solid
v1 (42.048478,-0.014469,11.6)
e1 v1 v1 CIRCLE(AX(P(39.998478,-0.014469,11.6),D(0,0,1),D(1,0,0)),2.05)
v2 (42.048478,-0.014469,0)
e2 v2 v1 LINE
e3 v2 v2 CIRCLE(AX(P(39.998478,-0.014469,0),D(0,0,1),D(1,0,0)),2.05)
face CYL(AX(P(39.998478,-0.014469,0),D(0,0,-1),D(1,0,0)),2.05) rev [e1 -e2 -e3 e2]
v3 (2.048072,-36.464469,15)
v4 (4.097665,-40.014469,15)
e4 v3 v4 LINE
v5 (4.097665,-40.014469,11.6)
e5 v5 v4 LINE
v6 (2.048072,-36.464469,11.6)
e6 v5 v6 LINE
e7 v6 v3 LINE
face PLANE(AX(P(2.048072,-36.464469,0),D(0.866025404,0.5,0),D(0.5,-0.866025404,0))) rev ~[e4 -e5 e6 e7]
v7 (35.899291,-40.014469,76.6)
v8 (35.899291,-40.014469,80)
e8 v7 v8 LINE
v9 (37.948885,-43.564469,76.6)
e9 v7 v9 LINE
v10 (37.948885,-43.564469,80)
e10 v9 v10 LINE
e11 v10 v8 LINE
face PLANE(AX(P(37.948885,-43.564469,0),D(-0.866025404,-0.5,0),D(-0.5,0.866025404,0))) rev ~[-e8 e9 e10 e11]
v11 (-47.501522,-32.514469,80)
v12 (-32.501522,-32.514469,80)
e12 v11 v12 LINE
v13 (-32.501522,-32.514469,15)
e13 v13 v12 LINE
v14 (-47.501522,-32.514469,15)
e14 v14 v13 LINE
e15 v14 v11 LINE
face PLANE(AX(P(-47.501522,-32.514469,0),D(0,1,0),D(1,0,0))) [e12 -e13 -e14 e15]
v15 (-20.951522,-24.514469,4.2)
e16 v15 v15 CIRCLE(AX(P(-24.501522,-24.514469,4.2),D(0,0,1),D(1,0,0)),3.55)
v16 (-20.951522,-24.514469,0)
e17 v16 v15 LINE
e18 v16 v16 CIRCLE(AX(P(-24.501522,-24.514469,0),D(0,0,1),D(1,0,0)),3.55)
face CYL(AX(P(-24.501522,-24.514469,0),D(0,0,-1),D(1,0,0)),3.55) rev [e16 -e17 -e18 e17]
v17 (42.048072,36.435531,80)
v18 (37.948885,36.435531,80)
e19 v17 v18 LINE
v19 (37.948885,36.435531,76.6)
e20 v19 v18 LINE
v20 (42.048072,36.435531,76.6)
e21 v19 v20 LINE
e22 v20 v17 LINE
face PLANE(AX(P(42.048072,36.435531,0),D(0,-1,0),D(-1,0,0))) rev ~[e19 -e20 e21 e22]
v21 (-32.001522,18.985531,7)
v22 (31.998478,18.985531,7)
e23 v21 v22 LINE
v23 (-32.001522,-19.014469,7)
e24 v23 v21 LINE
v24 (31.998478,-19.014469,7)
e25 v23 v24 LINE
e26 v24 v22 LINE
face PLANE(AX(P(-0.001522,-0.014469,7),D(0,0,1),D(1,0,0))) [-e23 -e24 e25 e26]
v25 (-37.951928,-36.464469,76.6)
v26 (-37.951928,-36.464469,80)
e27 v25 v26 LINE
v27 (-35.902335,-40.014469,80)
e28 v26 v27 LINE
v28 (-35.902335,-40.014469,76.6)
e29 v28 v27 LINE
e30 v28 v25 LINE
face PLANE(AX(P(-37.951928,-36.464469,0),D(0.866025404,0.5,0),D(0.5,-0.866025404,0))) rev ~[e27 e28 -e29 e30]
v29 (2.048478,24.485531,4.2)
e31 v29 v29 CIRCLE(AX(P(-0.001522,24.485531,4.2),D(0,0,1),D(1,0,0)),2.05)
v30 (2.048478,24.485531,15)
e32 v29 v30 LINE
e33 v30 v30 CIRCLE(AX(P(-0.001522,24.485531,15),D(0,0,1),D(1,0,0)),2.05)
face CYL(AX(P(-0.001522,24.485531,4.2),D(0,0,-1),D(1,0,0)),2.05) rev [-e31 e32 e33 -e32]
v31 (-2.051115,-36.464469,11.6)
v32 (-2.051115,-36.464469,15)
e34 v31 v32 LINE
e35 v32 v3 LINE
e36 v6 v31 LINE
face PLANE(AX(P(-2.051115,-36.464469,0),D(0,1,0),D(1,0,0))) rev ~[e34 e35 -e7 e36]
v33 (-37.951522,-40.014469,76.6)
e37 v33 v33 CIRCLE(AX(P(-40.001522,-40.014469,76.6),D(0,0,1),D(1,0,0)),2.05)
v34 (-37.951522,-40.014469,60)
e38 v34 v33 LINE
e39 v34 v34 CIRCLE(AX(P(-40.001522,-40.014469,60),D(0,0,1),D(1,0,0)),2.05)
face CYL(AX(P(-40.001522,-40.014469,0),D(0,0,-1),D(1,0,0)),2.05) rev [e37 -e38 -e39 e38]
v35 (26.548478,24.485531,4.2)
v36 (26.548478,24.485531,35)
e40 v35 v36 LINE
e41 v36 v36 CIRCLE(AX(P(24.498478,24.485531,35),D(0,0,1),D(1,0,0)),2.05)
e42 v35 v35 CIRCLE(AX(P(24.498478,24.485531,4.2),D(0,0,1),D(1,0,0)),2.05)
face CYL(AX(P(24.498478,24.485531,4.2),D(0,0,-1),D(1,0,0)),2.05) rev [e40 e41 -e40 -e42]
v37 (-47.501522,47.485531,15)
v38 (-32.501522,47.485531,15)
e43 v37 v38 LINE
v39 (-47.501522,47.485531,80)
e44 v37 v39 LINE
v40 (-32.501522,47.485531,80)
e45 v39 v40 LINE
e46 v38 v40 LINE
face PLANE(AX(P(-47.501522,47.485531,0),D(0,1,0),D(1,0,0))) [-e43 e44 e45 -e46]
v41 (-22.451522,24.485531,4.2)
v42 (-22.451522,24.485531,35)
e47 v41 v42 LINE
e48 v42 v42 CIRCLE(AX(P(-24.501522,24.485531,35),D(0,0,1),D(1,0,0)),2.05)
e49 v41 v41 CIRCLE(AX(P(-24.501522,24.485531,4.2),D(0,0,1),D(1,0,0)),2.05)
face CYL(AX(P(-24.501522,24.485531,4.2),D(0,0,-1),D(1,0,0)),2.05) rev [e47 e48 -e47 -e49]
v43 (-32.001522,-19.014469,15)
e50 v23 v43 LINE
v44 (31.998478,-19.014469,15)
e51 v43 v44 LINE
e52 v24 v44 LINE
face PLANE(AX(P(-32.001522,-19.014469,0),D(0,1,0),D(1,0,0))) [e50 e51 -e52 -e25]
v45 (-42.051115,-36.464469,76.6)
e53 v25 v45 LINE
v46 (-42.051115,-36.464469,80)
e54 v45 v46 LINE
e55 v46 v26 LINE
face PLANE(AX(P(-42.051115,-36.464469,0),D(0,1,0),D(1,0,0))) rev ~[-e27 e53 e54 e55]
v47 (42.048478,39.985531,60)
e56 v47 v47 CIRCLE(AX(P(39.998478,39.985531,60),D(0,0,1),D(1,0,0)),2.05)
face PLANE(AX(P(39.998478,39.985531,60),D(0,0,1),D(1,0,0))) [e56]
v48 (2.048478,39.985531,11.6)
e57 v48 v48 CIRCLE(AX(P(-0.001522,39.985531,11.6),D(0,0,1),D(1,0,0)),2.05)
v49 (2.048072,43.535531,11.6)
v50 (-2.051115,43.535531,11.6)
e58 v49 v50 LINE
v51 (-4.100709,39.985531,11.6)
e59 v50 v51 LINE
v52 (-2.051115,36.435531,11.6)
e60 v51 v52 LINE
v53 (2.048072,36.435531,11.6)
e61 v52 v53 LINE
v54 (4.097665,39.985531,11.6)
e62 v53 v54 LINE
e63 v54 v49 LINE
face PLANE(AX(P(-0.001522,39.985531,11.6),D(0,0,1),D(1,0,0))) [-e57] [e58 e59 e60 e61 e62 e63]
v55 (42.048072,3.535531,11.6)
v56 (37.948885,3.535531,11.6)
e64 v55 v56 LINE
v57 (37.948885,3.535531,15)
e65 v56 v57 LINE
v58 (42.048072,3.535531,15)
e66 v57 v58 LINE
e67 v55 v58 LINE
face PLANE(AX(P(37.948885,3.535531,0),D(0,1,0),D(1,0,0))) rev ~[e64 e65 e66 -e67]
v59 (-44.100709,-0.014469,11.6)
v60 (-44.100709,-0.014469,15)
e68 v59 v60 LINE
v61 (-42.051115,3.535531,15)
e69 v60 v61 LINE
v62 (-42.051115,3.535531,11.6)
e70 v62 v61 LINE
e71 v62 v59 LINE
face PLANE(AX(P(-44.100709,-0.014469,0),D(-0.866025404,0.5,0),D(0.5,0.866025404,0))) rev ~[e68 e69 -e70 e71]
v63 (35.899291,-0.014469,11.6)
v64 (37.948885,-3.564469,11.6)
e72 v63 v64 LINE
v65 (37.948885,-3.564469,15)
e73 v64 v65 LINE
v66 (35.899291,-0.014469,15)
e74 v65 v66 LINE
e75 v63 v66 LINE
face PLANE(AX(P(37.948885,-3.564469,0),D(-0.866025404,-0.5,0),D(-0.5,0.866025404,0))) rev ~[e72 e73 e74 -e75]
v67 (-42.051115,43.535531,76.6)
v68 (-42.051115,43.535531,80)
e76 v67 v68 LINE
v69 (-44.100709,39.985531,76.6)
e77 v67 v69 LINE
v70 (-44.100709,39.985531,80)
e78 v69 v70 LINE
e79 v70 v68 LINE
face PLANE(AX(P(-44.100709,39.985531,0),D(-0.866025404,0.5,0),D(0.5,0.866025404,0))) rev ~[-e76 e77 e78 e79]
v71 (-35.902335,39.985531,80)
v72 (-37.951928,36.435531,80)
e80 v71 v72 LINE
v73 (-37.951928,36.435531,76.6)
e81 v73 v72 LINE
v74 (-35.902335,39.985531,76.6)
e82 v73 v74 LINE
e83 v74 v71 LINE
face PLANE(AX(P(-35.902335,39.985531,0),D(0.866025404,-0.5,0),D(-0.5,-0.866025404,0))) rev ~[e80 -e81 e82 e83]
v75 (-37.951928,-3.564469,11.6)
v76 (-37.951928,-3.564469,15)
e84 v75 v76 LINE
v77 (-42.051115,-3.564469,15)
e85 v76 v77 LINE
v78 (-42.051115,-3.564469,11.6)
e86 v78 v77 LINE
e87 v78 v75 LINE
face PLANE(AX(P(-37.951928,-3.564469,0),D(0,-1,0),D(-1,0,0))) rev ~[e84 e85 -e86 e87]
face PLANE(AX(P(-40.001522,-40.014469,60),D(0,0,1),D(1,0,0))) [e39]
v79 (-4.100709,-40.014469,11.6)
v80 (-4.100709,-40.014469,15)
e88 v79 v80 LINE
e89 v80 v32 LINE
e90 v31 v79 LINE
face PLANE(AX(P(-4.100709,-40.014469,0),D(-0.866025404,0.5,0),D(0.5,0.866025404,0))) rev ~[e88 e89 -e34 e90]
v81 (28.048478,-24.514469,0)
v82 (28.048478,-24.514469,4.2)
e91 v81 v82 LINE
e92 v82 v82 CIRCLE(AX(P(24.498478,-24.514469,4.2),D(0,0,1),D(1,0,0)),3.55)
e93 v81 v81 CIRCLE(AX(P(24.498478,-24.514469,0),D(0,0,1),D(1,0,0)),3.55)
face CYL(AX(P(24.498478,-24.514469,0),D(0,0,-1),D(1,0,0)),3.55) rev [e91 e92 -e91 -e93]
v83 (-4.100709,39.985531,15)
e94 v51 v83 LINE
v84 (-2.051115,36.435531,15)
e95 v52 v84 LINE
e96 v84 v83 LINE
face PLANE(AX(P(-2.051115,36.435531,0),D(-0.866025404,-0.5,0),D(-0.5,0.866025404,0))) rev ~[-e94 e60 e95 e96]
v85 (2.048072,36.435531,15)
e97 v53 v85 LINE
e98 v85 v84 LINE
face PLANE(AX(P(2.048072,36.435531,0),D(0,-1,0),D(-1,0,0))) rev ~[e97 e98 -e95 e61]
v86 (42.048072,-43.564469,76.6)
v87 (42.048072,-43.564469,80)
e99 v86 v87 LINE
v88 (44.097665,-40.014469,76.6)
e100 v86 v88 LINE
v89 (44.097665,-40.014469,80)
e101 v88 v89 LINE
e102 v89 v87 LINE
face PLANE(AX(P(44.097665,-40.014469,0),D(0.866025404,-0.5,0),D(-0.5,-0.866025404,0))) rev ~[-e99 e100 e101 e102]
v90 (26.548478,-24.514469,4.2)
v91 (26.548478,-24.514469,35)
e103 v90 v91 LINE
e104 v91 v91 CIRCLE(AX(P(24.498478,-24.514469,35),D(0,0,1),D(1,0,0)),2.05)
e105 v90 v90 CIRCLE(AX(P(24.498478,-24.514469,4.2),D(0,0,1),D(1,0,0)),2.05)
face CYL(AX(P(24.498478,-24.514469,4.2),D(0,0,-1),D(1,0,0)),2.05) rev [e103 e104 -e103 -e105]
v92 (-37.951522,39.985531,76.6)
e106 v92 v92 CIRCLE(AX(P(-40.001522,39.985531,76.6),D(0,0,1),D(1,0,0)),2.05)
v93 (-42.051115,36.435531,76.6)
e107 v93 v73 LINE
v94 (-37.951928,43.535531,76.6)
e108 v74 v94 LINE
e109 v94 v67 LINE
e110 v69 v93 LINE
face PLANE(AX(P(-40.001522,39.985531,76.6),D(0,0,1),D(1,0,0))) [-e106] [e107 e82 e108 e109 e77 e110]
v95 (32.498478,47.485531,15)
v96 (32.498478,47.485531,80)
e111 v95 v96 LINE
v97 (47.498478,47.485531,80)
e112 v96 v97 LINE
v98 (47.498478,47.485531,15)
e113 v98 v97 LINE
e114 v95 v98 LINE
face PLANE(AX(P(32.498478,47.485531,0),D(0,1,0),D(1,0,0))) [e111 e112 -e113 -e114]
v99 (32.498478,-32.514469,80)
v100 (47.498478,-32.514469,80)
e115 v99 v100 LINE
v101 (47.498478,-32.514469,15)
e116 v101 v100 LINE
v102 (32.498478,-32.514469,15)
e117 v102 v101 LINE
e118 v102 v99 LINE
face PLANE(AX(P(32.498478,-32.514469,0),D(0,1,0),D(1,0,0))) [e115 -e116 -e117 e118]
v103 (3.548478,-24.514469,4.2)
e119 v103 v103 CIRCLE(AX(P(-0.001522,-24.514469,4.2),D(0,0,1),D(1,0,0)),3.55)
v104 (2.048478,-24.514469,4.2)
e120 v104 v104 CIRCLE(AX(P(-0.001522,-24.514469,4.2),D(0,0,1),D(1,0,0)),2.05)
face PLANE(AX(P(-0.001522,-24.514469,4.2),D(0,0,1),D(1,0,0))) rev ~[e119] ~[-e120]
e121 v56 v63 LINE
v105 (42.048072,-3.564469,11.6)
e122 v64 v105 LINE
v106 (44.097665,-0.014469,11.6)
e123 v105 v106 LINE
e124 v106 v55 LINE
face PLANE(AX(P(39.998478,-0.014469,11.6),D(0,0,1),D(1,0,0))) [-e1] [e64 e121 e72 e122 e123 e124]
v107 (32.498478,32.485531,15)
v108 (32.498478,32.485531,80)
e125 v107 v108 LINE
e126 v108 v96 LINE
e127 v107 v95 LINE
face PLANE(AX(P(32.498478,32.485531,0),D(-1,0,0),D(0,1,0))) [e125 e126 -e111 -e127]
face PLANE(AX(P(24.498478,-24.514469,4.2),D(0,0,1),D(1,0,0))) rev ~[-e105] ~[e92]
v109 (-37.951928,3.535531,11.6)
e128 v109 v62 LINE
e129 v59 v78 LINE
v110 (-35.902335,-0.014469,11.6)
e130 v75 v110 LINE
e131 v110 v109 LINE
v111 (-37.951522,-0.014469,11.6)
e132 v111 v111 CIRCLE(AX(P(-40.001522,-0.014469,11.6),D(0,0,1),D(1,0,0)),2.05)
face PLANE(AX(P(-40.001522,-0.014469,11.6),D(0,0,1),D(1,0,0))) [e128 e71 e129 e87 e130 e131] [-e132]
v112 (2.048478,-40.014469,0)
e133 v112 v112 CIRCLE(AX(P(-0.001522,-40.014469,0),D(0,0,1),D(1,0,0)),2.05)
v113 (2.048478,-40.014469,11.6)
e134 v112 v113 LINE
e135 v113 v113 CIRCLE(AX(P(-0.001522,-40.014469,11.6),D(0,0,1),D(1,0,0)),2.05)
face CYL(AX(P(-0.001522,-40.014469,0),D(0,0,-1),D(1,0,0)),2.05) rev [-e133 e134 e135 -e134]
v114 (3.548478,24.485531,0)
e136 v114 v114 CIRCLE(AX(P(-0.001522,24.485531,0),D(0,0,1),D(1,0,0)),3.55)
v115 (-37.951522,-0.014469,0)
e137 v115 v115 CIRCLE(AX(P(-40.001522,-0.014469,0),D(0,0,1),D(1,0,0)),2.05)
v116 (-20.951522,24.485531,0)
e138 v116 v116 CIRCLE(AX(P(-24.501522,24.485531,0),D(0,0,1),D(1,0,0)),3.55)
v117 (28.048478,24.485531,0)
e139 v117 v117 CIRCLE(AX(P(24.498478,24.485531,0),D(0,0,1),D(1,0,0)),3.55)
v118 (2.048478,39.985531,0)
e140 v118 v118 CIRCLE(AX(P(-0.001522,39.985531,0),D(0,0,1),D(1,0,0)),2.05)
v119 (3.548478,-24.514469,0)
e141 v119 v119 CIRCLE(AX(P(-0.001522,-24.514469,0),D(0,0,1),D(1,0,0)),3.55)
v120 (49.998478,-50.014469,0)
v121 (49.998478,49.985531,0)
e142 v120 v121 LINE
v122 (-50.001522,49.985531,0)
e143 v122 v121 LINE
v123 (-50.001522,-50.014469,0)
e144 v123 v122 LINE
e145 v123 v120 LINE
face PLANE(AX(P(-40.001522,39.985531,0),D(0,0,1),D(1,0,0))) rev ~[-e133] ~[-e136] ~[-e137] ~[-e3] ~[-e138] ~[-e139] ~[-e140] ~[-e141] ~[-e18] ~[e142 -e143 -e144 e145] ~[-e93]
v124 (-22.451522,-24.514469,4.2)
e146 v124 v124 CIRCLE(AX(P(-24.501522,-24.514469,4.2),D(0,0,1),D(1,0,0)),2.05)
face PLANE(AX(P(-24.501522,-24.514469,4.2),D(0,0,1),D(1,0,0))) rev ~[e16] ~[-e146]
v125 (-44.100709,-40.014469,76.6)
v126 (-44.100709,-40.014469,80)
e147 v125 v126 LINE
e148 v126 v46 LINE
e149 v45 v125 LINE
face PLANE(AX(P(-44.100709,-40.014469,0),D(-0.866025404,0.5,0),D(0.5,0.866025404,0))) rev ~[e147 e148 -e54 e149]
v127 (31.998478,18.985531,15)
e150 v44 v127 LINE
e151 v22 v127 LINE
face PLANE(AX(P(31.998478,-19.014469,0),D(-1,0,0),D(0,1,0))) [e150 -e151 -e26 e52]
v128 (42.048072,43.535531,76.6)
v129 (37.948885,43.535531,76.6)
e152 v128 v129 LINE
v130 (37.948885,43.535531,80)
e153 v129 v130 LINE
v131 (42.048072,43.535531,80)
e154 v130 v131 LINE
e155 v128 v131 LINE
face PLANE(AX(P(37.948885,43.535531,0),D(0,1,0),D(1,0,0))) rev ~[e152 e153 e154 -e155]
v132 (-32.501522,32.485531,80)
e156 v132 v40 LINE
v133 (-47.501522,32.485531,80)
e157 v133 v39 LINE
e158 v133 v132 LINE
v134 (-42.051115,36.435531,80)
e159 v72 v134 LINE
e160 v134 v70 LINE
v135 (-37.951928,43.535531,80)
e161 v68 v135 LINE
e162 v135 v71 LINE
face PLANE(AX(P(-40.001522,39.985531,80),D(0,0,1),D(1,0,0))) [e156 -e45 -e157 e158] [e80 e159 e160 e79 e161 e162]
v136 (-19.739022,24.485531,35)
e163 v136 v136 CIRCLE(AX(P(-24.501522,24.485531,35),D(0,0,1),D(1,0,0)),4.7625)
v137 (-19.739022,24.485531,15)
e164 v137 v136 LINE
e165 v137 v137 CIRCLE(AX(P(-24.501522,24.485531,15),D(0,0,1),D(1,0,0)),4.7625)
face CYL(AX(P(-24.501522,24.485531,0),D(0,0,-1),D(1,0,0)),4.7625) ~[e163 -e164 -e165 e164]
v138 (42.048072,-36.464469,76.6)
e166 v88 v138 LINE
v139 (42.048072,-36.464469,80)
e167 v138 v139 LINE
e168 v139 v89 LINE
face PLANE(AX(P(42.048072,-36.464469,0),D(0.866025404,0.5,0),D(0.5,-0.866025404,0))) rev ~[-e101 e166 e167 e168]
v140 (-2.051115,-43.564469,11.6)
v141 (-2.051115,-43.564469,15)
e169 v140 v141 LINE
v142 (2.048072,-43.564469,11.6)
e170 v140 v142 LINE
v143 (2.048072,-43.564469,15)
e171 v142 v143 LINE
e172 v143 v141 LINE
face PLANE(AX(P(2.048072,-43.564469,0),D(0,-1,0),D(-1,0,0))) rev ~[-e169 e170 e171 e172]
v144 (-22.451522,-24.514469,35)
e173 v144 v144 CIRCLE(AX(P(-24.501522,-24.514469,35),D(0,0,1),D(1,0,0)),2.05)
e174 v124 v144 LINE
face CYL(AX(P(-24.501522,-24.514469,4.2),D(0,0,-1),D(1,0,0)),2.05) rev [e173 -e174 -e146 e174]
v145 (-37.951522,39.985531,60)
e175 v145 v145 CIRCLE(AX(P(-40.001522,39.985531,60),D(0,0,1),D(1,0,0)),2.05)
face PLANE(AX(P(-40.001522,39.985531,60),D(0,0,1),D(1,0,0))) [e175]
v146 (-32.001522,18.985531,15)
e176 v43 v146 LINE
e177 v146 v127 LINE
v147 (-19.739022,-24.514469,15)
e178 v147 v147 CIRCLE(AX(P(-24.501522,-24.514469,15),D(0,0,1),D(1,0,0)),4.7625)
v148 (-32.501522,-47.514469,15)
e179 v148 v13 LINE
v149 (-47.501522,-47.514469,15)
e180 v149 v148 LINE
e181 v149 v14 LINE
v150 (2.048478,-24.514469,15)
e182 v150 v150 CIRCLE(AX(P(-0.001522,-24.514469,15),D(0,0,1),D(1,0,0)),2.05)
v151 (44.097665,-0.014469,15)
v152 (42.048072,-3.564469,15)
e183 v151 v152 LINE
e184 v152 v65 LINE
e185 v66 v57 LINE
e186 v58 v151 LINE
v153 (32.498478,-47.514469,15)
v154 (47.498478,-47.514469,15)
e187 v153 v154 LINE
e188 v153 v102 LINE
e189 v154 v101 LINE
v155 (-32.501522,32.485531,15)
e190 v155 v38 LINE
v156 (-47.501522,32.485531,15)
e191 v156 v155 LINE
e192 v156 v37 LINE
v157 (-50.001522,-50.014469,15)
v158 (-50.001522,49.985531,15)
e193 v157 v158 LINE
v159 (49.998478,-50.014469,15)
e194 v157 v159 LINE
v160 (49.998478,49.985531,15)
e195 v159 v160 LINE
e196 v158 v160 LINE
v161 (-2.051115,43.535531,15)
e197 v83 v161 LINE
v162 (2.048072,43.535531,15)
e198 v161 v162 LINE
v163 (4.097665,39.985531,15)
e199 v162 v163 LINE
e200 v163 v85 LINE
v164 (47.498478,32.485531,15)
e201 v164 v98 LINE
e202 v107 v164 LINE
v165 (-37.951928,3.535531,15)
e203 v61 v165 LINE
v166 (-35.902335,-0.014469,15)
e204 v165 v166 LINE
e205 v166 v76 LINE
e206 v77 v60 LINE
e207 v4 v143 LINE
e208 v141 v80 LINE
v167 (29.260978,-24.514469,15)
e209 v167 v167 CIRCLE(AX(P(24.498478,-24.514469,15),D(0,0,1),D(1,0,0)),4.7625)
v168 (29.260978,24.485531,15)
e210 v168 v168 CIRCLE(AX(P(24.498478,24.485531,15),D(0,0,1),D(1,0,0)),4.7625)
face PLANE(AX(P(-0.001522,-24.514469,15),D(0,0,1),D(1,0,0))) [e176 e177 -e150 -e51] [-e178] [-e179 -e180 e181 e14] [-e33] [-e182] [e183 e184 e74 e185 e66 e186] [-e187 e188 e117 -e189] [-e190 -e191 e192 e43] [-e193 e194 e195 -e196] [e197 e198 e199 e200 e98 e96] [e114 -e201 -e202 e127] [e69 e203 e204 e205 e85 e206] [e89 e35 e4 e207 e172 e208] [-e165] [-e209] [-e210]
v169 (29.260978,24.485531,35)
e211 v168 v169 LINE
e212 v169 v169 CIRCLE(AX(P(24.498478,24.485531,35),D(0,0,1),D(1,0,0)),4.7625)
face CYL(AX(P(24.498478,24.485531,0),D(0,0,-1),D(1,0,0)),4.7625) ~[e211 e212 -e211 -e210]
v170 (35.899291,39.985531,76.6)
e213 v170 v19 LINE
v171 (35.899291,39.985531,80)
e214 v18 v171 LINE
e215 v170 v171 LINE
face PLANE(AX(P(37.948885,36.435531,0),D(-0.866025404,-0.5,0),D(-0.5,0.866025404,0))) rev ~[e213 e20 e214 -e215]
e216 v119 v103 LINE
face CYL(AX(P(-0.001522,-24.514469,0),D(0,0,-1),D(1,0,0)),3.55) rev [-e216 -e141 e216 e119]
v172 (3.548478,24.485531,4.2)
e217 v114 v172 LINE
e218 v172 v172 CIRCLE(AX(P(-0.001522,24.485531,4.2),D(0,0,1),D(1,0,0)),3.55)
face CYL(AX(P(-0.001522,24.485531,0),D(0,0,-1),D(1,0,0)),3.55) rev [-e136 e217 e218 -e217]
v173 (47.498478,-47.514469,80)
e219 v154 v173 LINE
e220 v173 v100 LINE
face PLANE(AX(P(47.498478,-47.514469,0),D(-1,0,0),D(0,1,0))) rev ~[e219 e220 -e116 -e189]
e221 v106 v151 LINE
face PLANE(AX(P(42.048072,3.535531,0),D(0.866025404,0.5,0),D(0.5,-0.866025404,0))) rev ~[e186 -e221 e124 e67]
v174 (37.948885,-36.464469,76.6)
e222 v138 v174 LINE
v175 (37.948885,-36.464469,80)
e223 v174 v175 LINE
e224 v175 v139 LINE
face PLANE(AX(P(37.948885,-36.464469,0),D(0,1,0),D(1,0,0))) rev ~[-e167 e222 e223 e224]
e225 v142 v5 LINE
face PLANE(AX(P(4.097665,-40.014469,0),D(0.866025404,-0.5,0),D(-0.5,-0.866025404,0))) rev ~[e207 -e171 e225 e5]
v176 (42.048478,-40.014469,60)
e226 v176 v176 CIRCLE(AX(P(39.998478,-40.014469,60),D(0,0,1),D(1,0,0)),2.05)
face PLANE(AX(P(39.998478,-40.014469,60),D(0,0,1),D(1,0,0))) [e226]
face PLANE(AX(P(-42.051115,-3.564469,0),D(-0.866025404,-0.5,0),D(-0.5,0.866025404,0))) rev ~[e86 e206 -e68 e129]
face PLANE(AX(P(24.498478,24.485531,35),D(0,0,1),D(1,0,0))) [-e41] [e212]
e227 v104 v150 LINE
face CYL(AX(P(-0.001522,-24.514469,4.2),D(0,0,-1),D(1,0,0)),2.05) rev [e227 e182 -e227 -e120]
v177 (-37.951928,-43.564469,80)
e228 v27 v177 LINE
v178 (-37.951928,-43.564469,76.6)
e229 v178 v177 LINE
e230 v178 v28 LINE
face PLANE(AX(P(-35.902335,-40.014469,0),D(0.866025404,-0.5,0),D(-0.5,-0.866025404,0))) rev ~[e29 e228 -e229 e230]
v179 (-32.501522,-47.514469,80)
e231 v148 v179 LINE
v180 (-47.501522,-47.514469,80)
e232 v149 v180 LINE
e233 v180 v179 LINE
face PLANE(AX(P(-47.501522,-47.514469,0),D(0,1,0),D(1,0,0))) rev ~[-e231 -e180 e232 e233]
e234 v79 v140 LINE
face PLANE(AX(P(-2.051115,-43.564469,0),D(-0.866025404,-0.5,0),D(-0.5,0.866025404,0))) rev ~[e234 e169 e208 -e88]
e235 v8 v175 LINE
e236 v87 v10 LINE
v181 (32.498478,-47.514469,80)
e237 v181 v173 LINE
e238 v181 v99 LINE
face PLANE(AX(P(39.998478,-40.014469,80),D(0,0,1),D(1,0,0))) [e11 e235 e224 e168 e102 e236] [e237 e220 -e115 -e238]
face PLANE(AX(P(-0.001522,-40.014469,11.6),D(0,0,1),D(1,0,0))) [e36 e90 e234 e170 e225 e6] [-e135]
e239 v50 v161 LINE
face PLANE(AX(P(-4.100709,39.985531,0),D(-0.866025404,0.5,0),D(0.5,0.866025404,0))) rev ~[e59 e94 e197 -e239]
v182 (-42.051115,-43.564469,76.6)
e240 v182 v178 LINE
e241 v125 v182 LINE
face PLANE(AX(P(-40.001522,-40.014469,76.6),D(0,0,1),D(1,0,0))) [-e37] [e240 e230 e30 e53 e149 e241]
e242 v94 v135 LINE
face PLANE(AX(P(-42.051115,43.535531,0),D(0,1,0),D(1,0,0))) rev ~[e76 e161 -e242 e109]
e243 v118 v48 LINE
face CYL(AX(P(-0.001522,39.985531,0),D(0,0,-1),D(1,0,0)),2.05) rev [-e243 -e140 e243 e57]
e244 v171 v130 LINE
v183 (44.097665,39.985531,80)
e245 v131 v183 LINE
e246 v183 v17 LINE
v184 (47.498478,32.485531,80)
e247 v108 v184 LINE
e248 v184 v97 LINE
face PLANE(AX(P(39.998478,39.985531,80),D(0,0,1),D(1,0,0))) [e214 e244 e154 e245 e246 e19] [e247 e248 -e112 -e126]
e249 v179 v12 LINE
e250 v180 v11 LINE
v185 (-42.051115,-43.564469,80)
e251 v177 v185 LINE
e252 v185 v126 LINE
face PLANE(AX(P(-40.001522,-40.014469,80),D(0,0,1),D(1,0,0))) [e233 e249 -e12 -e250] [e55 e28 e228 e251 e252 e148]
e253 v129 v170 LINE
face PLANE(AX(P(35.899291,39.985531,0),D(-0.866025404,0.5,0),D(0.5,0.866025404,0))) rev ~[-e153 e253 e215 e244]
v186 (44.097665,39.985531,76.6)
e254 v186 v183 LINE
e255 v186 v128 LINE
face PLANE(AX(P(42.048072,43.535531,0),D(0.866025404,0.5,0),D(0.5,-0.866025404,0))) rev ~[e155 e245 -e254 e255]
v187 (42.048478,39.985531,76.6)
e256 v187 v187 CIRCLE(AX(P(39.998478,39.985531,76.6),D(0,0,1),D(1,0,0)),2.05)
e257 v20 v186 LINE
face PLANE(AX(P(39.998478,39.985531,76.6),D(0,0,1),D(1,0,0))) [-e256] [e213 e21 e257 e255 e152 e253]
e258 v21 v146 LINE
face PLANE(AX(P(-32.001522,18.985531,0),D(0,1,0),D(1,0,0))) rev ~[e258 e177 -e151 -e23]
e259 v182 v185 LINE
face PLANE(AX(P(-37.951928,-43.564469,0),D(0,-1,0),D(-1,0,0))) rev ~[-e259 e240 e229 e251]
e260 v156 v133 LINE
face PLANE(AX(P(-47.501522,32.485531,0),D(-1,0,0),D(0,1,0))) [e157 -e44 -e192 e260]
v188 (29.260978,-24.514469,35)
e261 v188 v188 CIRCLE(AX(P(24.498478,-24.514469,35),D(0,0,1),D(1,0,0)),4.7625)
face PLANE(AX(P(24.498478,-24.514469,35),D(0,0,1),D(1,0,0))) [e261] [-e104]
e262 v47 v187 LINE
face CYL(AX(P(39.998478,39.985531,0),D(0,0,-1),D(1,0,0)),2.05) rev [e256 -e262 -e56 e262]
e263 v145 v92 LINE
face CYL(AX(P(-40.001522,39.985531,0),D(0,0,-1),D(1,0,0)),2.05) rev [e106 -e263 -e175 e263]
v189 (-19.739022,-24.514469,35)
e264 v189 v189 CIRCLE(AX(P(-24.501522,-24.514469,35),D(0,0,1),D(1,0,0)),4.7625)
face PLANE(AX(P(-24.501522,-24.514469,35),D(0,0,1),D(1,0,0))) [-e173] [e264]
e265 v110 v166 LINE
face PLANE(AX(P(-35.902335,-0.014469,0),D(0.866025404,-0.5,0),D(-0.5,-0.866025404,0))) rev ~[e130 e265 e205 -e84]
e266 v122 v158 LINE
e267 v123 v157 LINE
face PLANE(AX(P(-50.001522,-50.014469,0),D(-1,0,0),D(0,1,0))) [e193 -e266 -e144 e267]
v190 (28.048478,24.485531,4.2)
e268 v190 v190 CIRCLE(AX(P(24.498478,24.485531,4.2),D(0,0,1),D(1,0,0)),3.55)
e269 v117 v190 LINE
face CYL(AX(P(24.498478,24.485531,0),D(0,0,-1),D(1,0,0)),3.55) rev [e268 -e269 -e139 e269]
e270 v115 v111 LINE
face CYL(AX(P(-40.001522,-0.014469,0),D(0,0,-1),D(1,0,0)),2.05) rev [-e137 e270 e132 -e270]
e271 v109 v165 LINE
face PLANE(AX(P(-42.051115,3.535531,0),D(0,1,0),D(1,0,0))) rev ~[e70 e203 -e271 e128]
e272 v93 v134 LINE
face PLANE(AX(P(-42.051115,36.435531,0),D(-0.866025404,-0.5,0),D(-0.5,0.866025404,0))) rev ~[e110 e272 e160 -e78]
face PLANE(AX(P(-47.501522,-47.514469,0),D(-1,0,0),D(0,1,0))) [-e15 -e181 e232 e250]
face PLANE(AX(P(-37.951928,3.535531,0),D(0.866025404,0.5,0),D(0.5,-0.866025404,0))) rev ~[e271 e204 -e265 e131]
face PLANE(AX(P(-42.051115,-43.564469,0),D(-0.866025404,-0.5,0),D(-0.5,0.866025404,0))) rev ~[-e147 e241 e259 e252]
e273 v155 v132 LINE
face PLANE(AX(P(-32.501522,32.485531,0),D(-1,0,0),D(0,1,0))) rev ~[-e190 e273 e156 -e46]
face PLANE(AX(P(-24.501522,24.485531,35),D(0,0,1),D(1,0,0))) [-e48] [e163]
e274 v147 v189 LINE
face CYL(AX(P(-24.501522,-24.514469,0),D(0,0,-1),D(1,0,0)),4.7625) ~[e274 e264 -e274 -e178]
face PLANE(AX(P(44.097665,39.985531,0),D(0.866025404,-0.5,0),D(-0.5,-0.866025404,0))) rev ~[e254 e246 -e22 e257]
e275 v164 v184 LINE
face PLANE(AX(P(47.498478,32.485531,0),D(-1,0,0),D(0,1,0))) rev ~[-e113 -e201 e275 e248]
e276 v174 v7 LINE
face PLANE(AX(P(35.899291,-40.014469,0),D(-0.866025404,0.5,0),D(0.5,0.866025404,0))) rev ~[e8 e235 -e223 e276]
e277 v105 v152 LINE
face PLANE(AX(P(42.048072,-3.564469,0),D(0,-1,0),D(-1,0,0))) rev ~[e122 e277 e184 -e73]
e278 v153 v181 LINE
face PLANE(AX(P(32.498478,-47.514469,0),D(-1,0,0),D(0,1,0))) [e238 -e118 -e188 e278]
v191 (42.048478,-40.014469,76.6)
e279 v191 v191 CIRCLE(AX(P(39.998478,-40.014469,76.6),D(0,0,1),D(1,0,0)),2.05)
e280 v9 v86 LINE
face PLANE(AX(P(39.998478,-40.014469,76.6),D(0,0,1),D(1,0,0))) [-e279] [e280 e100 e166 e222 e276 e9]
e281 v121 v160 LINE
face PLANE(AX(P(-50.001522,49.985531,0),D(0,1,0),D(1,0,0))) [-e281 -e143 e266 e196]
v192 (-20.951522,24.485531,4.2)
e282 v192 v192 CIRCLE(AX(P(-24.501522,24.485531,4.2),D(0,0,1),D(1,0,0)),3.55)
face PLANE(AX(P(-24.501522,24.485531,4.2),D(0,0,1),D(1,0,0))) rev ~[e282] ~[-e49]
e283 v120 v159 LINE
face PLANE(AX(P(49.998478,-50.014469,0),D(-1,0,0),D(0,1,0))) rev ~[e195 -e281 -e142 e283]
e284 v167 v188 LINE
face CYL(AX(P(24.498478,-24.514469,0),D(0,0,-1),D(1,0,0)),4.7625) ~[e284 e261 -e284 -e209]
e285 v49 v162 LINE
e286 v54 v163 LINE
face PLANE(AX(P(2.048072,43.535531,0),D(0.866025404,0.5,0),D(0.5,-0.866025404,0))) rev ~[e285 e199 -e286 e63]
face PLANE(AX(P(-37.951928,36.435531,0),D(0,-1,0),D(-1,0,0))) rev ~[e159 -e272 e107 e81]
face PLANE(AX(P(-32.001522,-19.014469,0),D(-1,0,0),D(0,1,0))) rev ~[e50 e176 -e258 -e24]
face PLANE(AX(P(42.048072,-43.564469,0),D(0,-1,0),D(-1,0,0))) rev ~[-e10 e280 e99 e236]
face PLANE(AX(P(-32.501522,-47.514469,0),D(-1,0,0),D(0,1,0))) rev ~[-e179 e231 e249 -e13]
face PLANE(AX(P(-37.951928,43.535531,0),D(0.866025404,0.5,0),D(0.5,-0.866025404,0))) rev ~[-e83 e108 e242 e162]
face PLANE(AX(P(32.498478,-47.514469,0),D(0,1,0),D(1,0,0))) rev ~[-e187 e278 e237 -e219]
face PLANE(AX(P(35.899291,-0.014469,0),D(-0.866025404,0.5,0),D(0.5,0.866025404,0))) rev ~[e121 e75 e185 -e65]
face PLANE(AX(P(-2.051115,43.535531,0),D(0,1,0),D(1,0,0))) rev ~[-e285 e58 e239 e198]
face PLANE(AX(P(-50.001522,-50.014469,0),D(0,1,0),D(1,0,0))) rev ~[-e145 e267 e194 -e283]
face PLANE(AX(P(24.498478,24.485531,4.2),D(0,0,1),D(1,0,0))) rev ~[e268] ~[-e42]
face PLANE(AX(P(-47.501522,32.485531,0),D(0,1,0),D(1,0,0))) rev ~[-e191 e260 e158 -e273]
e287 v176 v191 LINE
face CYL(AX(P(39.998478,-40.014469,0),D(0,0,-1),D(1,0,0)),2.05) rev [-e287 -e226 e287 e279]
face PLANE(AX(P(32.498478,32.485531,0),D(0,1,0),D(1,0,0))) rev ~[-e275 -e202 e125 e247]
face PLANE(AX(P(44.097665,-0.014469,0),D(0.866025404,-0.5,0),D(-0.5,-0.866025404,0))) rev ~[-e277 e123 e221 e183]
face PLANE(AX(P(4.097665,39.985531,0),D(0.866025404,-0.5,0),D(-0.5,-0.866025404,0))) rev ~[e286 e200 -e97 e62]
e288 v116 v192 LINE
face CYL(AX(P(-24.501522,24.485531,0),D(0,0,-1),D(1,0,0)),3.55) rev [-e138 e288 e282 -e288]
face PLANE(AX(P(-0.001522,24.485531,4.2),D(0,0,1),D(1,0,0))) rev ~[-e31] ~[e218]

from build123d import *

# Parameters (mm, degrees)
F0_W     = 100
F0_H     = 100
F0_W_2   = 15
F0_H_2   = 15
F0_R     = 4.7625
F0_R_2   = 3.55
F0_W_3   = 64
F0_H_3   = 38
F1_DEPTH = 15
F2_DEPTH = 80
F0_R_3   = 2.05
F3_DEPTH = 76.6
F4_DEPTH = 7
F5_DEPTH = 11.6
F6_DEPTH = 35
F7_START = 4.2
F7_DEPTH = 30.8
F8_START = 4.2
F8_DEPTH = 10.8
F9_DEPTH = 60


with BuildPart() as f1:
    # F0 (on Top) → F1 (new body)
    with BuildSketch(Plane.XY):
        with Locations((-0.0015218393, -0.0144693477)):
            Rectangle(F0_W, F0_H)
        with Locations((-40.0015218393, -40.0144693477)):
            Rectangle(F0_W_2, F0_H_2, mode=Mode.SUBTRACT)
        with Locations((-24.5015218393, -24.5144693477)):
            Circle(F0_R, mode=Mode.SUBTRACT)
        Polygon((4.097665072, -40.0144693477), (2.0480716163, -43.5644693477), (-2.0511152949, -43.5644693477), (-4.1007087505, -40.0144693477), (-2.0511152949, -36.4644693477), (2.0480716163, -36.4644693477), align=None, mode=Mode.SUBTRACT)
        with Locations((39.9984781607, -40.0144693477)):
            Rectangle(F0_W_2, F0_H_2, mode=Mode.SUBTRACT)
        with Locations((-0.0015218393, -24.5144693477)):
            Circle(F0_R_2, mode=Mode.SUBTRACT)
        with Locations((24.4984781607, -24.5144693477)):
            Circle(F0_R, mode=Mode.SUBTRACT)
        Polygon((-35.902334928, -0.0144693477), (-37.9519283837, -3.5644693477), (-42.0511152949, -3.5644693477), (-44.1007087505, -0.0144693477), (-42.0511152949, 3.5355306523), (-37.9519283837, 3.5355306523), align=None, mode=Mode.SUBTRACT)
        with Locations((-24.5015218393, 24.4855306523)):
            Circle(F0_R, mode=Mode.SUBTRACT)
        with Locations((-40.0015218393, 39.9855306523)):
            Rectangle(F0_W_2, F0_H_2, mode=Mode.SUBTRACT)
        Polygon((4.097665072, 39.9855306523), (2.0480716163, 36.4355306523), (-2.0511152949, 36.4355306523), (-4.1007087505, 39.9855306523), (-2.0511152949, 43.5355306523), (2.0480716163, 43.5355306523), align=None, mode=Mode.SUBTRACT)
        with Locations((-0.0015218393, -0.0144693477)):
            Rectangle(F0_W_3, F0_H_3, mode=Mode.SUBTRACT)
        with Locations((-0.0015218393, 24.4855306523)):
            Circle(F0_R_2, mode=Mode.SUBTRACT)
        with Locations((24.4984781607, 24.4855306523)):
            Circle(F0_R, mode=Mode.SUBTRACT)
        Polygon((42.0480716163, -3.5644693477), (37.9488847051, -3.5644693477), (35.8992912495, -0.0144693477), (37.9488847051, 3.5355306523), (42.0480716163, 3.5355306523), (44.097665072, -0.0144693477), align=None, mode=Mode.SUBTRACT)
        with Locations((39.9984781607, 39.9855306523)):
            Rectangle(F0_W_2, F0_H_2, mode=Mode.SUBTRACT)
    extrude(amount=F1_DEPTH)

    # F0 (on Top) → F2 (join)
    with BuildSketch(Plane.XY):
        with Locations((-40.0015218393, -40.0144693477)):
            Rectangle(F0_W_2, F0_H_2)
        Polygon((-35.902334928, -40.0144693477), (-37.9519283837, -43.5644693477), (-42.0511152949, -43.5644693477), (-44.1007087505, -40.0144693477), (-42.0511152949, -36.4644693477), (-37.9519283837, -36.4644693477), align=None, mode=Mode.SUBTRACT)
        with Locations((39.9984781607, -40.0144693477)):
            Rectangle(F0_W_2, F0_H_2)
        Polygon((44.097665072, -40.0144693477), (42.0480716163, -43.5644693477), (37.9488847051, -43.5644693477), (35.8992912495, -40.0144693477), (37.9488847051, -36.4644693477), (42.0480716163, -36.4644693477), align=None, mode=Mode.SUBTRACT)
        with Locations((-40.0015218393, 39.9855306523)):
            Rectangle(F0_W_2, F0_H_2)
        Polygon((-42.0511152949, 43.5355306523), (-37.9519283837, 43.5355306523), (-35.902334928, 39.9855306523), (-37.9519283837, 36.4355306523), (-42.0511152949, 36.4355306523), (-44.1007087505, 39.9855306523), align=None, mode=Mode.SUBTRACT)
        with Locations((39.9984781607, 39.9855306523)):
            Rectangle(F0_W_2, F0_H_2)
        Polygon((42.0480716163, 36.4355306523), (37.9488847051, 36.4355306523), (35.8992912495, 39.9855306523), (37.9488847051, 43.5355306523), (42.0480716163, 43.5355306523), (44.097665072, 39.9855306523), align=None, mode=Mode.SUBTRACT)
    extrude(amount=F2_DEPTH)

    # F0 (on Top) → F3 (join)
    with BuildSketch(Plane.XY):
        Polygon((-35.902334928, 39.9855306523), (-37.9519283837, 43.5355306523), (-42.0511152949, 43.5355306523), (-44.1007087505, 39.9855306523), (-42.0511152949, 36.4355306523), (-37.9519283837, 36.4355306523), align=None)
        with Locations((-40.0015218393, 39.9855306523)):
            Circle(F0_R_3, mode=Mode.SUBTRACT)
        Polygon((35.8992912495, 39.9855306523), (37.9488847051, 36.4355306523), (42.0480716163, 36.4355306523), (44.097665072, 39.9855306523), (42.0480716163, 43.5355306523), (37.9488847051, 43.5355306523), align=None)
        with Locations((39.9984781607, 39.9855306523)):
            Circle(F0_R_3, mode=Mode.SUBTRACT)
        Polygon((37.9488847051, -43.5644693477), (42.0480716163, -43.5644693477), (44.097665072, -40.0144693477), (42.0480716163, -36.4644693477), (37.9488847051, -36.4644693477), (35.8992912495, -40.0144693477), align=None)
        with Locations((39.9984781607, -40.0144693477)):
            Circle(F0_R_3, mode=Mode.SUBTRACT)
        Polygon((-42.0511152949, -43.5644693477), (-37.9519283837, -43.5644693477), (-35.902334928, -40.0144693477), (-37.9519283837, -36.4644693477), (-42.0511152949, -36.4644693477), (-44.1007087505, -40.0144693477), align=None)
        with Locations((-40.0015218393, -40.0144693477)):
            Circle(F0_R_3, mode=Mode.SUBTRACT)
    extrude(amount=F3_DEPTH)

    # F0 (on Top) → F4 (join)
    with BuildSketch(Plane.XY):
        with Locations((-0.0015218393, -0.0144693477)):
            Rectangle(F0_W_3, F0_H_3)
    extrude(amount=F4_DEPTH)

    # F0 (on Top) → F5 (join)
    with BuildSketch(Plane.XY):
        Polygon((-42.0511152949, -3.5644693477), (-37.9519283837, -3.5644693477), (-35.902334928, -0.0144693477), (-37.9519283837, 3.5355306523), (-42.0511152949, 3.5355306523), (-44.1007087505, -0.0144693477), align=None)
        with Locations((-40.0015218393, -0.0144693477)):
            Circle(F0_R_3, mode=Mode.SUBTRACT)
        Polygon((-2.0511152949, -43.5644693477), (2.0480716163, -43.5644693477), (4.097665072, -40.0144693477), (2.0480716163, -36.4644693477), (-2.0511152949, -36.4644693477), (-4.1007087505, -40.0144693477), align=None)
        with Locations((-0.0015218393, -40.0144693477)):
            Circle(F0_R_3, mode=Mode.SUBTRACT)
        Polygon((35.8992912495, -0.0144693477), (37.9488847051, -3.5644693477), (42.0480716163, -3.5644693477), (44.097665072, -0.0144693477), (42.0480716163, 3.5355306523), (37.9488847051, 3.5355306523), align=None)
        with Locations((39.9984781607, -0.0144693477)):
            Circle(F0_R_3, mode=Mode.SUBTRACT)
        Polygon((-2.0511152949, 36.4355306523), (2.0480716163, 36.4355306523), (4.097665072, 39.9855306523), (2.0480716163, 43.5355306523), (-2.0511152949, 43.5355306523), (-4.1007087505, 39.9855306523), align=None)
        with Locations((-0.0015218393, 39.9855306523)):
            Circle(F0_R_3, mode=Mode.SUBTRACT)
    extrude(amount=F5_DEPTH)

    # F0 (on Top) → F6 (join)
    with BuildSketch(Plane.XY):
        with Locations((-24.5015218393, 24.4855306523)):
            Circle(F0_R)
        with Locations((-24.5015218393, 24.4855306523)):
            Circle(F0_R_2, mode=Mode.SUBTRACT)
        with Locations((24.4984781607, 24.4855306523)):
            Circle(F0_R)
        with Locations((24.4984781607, 24.4855306523)):
            Circle(F0_R_2, mode=Mode.SUBTRACT)
        with Locations((24.4984781607, -24.5144693477)):
            Circle(F0_R)
        with Locations((24.4984781607, -24.5144693477)):
            Circle(F0_R_2, mode=Mode.SUBTRACT)
        with Locations((-24.5015218393, -24.5144693477)):
            Circle(F0_R)
        with Locations((-24.5015218393, -24.5144693477)):
            Circle(F0_R_2, mode=Mode.SUBTRACT)
    extrude(amount=F6_DEPTH)

    # F0 (on Top) → F7 (join)
    with BuildSketch(Plane.XY.offset(F7_START)):
        with Locations((-24.5015218393, 24.4855306523)):
            Circle(F0_R_2)
        with Locations((-24.5015218393, 24.4855306523)):
            Circle(F0_R_3, mode=Mode.SUBTRACT)
        with Locations((24.4984781607, 24.4855306523)):
            Circle(F0_R_2)
        with Locations((24.4984781607, 24.4855306523)):
            Circle(F0_R_3, mode=Mode.SUBTRACT)
        with Locations((24.4984781607, -24.5144693477)):
            Circle(F0_R_2)
        with Locations((24.4984781607, -24.5144693477)):
            Circle(F0_R_3, mode=Mode.SUBTRACT)
        with Locations((-24.5015218393, -24.5144693477)):
            Circle(F0_R_2)
        with Locations((-24.5015218393, -24.5144693477)):
            Circle(F0_R_3, mode=Mode.SUBTRACT)
    extrude(amount=F7_DEPTH)

    # F0 (on Top) → F8 (join)
    with BuildSketch(Plane.XY.offset(F8_START)):
        with Locations((-0.0015218393, -24.5144693477)):
            Circle(F0_R_2)
        with Locations((-0.0015218393, -24.5144693477)):
            Circle(F0_R_3, mode=Mode.SUBTRACT)
        with Locations((-0.0015218393, 24.4855306523)):
            Circle(F0_R_2)
        with Locations((-0.0015218393, 24.4855306523)):
            Circle(F0_R_3, mode=Mode.SUBTRACT)
    extrude(amount=F8_DEPTH)

    # F0 (on Top) → F9 (join)
    with BuildSketch(Plane.XY):
        with Locations((-40.0015218393, 39.9855306523)):
            Circle(F0_R_3)
        with Locations((39.9984781607, 39.9855306523)):
            Circle(F0_R_3)
        with Locations((39.9984781607, -40.0144693477)):
            Circle(F0_R_3)
        with Locations((-40.0015218393, -40.0144693477)):
            Circle(F0_R_3)
    extrude(amount=F9_DEPTH)


solid = f1.part
